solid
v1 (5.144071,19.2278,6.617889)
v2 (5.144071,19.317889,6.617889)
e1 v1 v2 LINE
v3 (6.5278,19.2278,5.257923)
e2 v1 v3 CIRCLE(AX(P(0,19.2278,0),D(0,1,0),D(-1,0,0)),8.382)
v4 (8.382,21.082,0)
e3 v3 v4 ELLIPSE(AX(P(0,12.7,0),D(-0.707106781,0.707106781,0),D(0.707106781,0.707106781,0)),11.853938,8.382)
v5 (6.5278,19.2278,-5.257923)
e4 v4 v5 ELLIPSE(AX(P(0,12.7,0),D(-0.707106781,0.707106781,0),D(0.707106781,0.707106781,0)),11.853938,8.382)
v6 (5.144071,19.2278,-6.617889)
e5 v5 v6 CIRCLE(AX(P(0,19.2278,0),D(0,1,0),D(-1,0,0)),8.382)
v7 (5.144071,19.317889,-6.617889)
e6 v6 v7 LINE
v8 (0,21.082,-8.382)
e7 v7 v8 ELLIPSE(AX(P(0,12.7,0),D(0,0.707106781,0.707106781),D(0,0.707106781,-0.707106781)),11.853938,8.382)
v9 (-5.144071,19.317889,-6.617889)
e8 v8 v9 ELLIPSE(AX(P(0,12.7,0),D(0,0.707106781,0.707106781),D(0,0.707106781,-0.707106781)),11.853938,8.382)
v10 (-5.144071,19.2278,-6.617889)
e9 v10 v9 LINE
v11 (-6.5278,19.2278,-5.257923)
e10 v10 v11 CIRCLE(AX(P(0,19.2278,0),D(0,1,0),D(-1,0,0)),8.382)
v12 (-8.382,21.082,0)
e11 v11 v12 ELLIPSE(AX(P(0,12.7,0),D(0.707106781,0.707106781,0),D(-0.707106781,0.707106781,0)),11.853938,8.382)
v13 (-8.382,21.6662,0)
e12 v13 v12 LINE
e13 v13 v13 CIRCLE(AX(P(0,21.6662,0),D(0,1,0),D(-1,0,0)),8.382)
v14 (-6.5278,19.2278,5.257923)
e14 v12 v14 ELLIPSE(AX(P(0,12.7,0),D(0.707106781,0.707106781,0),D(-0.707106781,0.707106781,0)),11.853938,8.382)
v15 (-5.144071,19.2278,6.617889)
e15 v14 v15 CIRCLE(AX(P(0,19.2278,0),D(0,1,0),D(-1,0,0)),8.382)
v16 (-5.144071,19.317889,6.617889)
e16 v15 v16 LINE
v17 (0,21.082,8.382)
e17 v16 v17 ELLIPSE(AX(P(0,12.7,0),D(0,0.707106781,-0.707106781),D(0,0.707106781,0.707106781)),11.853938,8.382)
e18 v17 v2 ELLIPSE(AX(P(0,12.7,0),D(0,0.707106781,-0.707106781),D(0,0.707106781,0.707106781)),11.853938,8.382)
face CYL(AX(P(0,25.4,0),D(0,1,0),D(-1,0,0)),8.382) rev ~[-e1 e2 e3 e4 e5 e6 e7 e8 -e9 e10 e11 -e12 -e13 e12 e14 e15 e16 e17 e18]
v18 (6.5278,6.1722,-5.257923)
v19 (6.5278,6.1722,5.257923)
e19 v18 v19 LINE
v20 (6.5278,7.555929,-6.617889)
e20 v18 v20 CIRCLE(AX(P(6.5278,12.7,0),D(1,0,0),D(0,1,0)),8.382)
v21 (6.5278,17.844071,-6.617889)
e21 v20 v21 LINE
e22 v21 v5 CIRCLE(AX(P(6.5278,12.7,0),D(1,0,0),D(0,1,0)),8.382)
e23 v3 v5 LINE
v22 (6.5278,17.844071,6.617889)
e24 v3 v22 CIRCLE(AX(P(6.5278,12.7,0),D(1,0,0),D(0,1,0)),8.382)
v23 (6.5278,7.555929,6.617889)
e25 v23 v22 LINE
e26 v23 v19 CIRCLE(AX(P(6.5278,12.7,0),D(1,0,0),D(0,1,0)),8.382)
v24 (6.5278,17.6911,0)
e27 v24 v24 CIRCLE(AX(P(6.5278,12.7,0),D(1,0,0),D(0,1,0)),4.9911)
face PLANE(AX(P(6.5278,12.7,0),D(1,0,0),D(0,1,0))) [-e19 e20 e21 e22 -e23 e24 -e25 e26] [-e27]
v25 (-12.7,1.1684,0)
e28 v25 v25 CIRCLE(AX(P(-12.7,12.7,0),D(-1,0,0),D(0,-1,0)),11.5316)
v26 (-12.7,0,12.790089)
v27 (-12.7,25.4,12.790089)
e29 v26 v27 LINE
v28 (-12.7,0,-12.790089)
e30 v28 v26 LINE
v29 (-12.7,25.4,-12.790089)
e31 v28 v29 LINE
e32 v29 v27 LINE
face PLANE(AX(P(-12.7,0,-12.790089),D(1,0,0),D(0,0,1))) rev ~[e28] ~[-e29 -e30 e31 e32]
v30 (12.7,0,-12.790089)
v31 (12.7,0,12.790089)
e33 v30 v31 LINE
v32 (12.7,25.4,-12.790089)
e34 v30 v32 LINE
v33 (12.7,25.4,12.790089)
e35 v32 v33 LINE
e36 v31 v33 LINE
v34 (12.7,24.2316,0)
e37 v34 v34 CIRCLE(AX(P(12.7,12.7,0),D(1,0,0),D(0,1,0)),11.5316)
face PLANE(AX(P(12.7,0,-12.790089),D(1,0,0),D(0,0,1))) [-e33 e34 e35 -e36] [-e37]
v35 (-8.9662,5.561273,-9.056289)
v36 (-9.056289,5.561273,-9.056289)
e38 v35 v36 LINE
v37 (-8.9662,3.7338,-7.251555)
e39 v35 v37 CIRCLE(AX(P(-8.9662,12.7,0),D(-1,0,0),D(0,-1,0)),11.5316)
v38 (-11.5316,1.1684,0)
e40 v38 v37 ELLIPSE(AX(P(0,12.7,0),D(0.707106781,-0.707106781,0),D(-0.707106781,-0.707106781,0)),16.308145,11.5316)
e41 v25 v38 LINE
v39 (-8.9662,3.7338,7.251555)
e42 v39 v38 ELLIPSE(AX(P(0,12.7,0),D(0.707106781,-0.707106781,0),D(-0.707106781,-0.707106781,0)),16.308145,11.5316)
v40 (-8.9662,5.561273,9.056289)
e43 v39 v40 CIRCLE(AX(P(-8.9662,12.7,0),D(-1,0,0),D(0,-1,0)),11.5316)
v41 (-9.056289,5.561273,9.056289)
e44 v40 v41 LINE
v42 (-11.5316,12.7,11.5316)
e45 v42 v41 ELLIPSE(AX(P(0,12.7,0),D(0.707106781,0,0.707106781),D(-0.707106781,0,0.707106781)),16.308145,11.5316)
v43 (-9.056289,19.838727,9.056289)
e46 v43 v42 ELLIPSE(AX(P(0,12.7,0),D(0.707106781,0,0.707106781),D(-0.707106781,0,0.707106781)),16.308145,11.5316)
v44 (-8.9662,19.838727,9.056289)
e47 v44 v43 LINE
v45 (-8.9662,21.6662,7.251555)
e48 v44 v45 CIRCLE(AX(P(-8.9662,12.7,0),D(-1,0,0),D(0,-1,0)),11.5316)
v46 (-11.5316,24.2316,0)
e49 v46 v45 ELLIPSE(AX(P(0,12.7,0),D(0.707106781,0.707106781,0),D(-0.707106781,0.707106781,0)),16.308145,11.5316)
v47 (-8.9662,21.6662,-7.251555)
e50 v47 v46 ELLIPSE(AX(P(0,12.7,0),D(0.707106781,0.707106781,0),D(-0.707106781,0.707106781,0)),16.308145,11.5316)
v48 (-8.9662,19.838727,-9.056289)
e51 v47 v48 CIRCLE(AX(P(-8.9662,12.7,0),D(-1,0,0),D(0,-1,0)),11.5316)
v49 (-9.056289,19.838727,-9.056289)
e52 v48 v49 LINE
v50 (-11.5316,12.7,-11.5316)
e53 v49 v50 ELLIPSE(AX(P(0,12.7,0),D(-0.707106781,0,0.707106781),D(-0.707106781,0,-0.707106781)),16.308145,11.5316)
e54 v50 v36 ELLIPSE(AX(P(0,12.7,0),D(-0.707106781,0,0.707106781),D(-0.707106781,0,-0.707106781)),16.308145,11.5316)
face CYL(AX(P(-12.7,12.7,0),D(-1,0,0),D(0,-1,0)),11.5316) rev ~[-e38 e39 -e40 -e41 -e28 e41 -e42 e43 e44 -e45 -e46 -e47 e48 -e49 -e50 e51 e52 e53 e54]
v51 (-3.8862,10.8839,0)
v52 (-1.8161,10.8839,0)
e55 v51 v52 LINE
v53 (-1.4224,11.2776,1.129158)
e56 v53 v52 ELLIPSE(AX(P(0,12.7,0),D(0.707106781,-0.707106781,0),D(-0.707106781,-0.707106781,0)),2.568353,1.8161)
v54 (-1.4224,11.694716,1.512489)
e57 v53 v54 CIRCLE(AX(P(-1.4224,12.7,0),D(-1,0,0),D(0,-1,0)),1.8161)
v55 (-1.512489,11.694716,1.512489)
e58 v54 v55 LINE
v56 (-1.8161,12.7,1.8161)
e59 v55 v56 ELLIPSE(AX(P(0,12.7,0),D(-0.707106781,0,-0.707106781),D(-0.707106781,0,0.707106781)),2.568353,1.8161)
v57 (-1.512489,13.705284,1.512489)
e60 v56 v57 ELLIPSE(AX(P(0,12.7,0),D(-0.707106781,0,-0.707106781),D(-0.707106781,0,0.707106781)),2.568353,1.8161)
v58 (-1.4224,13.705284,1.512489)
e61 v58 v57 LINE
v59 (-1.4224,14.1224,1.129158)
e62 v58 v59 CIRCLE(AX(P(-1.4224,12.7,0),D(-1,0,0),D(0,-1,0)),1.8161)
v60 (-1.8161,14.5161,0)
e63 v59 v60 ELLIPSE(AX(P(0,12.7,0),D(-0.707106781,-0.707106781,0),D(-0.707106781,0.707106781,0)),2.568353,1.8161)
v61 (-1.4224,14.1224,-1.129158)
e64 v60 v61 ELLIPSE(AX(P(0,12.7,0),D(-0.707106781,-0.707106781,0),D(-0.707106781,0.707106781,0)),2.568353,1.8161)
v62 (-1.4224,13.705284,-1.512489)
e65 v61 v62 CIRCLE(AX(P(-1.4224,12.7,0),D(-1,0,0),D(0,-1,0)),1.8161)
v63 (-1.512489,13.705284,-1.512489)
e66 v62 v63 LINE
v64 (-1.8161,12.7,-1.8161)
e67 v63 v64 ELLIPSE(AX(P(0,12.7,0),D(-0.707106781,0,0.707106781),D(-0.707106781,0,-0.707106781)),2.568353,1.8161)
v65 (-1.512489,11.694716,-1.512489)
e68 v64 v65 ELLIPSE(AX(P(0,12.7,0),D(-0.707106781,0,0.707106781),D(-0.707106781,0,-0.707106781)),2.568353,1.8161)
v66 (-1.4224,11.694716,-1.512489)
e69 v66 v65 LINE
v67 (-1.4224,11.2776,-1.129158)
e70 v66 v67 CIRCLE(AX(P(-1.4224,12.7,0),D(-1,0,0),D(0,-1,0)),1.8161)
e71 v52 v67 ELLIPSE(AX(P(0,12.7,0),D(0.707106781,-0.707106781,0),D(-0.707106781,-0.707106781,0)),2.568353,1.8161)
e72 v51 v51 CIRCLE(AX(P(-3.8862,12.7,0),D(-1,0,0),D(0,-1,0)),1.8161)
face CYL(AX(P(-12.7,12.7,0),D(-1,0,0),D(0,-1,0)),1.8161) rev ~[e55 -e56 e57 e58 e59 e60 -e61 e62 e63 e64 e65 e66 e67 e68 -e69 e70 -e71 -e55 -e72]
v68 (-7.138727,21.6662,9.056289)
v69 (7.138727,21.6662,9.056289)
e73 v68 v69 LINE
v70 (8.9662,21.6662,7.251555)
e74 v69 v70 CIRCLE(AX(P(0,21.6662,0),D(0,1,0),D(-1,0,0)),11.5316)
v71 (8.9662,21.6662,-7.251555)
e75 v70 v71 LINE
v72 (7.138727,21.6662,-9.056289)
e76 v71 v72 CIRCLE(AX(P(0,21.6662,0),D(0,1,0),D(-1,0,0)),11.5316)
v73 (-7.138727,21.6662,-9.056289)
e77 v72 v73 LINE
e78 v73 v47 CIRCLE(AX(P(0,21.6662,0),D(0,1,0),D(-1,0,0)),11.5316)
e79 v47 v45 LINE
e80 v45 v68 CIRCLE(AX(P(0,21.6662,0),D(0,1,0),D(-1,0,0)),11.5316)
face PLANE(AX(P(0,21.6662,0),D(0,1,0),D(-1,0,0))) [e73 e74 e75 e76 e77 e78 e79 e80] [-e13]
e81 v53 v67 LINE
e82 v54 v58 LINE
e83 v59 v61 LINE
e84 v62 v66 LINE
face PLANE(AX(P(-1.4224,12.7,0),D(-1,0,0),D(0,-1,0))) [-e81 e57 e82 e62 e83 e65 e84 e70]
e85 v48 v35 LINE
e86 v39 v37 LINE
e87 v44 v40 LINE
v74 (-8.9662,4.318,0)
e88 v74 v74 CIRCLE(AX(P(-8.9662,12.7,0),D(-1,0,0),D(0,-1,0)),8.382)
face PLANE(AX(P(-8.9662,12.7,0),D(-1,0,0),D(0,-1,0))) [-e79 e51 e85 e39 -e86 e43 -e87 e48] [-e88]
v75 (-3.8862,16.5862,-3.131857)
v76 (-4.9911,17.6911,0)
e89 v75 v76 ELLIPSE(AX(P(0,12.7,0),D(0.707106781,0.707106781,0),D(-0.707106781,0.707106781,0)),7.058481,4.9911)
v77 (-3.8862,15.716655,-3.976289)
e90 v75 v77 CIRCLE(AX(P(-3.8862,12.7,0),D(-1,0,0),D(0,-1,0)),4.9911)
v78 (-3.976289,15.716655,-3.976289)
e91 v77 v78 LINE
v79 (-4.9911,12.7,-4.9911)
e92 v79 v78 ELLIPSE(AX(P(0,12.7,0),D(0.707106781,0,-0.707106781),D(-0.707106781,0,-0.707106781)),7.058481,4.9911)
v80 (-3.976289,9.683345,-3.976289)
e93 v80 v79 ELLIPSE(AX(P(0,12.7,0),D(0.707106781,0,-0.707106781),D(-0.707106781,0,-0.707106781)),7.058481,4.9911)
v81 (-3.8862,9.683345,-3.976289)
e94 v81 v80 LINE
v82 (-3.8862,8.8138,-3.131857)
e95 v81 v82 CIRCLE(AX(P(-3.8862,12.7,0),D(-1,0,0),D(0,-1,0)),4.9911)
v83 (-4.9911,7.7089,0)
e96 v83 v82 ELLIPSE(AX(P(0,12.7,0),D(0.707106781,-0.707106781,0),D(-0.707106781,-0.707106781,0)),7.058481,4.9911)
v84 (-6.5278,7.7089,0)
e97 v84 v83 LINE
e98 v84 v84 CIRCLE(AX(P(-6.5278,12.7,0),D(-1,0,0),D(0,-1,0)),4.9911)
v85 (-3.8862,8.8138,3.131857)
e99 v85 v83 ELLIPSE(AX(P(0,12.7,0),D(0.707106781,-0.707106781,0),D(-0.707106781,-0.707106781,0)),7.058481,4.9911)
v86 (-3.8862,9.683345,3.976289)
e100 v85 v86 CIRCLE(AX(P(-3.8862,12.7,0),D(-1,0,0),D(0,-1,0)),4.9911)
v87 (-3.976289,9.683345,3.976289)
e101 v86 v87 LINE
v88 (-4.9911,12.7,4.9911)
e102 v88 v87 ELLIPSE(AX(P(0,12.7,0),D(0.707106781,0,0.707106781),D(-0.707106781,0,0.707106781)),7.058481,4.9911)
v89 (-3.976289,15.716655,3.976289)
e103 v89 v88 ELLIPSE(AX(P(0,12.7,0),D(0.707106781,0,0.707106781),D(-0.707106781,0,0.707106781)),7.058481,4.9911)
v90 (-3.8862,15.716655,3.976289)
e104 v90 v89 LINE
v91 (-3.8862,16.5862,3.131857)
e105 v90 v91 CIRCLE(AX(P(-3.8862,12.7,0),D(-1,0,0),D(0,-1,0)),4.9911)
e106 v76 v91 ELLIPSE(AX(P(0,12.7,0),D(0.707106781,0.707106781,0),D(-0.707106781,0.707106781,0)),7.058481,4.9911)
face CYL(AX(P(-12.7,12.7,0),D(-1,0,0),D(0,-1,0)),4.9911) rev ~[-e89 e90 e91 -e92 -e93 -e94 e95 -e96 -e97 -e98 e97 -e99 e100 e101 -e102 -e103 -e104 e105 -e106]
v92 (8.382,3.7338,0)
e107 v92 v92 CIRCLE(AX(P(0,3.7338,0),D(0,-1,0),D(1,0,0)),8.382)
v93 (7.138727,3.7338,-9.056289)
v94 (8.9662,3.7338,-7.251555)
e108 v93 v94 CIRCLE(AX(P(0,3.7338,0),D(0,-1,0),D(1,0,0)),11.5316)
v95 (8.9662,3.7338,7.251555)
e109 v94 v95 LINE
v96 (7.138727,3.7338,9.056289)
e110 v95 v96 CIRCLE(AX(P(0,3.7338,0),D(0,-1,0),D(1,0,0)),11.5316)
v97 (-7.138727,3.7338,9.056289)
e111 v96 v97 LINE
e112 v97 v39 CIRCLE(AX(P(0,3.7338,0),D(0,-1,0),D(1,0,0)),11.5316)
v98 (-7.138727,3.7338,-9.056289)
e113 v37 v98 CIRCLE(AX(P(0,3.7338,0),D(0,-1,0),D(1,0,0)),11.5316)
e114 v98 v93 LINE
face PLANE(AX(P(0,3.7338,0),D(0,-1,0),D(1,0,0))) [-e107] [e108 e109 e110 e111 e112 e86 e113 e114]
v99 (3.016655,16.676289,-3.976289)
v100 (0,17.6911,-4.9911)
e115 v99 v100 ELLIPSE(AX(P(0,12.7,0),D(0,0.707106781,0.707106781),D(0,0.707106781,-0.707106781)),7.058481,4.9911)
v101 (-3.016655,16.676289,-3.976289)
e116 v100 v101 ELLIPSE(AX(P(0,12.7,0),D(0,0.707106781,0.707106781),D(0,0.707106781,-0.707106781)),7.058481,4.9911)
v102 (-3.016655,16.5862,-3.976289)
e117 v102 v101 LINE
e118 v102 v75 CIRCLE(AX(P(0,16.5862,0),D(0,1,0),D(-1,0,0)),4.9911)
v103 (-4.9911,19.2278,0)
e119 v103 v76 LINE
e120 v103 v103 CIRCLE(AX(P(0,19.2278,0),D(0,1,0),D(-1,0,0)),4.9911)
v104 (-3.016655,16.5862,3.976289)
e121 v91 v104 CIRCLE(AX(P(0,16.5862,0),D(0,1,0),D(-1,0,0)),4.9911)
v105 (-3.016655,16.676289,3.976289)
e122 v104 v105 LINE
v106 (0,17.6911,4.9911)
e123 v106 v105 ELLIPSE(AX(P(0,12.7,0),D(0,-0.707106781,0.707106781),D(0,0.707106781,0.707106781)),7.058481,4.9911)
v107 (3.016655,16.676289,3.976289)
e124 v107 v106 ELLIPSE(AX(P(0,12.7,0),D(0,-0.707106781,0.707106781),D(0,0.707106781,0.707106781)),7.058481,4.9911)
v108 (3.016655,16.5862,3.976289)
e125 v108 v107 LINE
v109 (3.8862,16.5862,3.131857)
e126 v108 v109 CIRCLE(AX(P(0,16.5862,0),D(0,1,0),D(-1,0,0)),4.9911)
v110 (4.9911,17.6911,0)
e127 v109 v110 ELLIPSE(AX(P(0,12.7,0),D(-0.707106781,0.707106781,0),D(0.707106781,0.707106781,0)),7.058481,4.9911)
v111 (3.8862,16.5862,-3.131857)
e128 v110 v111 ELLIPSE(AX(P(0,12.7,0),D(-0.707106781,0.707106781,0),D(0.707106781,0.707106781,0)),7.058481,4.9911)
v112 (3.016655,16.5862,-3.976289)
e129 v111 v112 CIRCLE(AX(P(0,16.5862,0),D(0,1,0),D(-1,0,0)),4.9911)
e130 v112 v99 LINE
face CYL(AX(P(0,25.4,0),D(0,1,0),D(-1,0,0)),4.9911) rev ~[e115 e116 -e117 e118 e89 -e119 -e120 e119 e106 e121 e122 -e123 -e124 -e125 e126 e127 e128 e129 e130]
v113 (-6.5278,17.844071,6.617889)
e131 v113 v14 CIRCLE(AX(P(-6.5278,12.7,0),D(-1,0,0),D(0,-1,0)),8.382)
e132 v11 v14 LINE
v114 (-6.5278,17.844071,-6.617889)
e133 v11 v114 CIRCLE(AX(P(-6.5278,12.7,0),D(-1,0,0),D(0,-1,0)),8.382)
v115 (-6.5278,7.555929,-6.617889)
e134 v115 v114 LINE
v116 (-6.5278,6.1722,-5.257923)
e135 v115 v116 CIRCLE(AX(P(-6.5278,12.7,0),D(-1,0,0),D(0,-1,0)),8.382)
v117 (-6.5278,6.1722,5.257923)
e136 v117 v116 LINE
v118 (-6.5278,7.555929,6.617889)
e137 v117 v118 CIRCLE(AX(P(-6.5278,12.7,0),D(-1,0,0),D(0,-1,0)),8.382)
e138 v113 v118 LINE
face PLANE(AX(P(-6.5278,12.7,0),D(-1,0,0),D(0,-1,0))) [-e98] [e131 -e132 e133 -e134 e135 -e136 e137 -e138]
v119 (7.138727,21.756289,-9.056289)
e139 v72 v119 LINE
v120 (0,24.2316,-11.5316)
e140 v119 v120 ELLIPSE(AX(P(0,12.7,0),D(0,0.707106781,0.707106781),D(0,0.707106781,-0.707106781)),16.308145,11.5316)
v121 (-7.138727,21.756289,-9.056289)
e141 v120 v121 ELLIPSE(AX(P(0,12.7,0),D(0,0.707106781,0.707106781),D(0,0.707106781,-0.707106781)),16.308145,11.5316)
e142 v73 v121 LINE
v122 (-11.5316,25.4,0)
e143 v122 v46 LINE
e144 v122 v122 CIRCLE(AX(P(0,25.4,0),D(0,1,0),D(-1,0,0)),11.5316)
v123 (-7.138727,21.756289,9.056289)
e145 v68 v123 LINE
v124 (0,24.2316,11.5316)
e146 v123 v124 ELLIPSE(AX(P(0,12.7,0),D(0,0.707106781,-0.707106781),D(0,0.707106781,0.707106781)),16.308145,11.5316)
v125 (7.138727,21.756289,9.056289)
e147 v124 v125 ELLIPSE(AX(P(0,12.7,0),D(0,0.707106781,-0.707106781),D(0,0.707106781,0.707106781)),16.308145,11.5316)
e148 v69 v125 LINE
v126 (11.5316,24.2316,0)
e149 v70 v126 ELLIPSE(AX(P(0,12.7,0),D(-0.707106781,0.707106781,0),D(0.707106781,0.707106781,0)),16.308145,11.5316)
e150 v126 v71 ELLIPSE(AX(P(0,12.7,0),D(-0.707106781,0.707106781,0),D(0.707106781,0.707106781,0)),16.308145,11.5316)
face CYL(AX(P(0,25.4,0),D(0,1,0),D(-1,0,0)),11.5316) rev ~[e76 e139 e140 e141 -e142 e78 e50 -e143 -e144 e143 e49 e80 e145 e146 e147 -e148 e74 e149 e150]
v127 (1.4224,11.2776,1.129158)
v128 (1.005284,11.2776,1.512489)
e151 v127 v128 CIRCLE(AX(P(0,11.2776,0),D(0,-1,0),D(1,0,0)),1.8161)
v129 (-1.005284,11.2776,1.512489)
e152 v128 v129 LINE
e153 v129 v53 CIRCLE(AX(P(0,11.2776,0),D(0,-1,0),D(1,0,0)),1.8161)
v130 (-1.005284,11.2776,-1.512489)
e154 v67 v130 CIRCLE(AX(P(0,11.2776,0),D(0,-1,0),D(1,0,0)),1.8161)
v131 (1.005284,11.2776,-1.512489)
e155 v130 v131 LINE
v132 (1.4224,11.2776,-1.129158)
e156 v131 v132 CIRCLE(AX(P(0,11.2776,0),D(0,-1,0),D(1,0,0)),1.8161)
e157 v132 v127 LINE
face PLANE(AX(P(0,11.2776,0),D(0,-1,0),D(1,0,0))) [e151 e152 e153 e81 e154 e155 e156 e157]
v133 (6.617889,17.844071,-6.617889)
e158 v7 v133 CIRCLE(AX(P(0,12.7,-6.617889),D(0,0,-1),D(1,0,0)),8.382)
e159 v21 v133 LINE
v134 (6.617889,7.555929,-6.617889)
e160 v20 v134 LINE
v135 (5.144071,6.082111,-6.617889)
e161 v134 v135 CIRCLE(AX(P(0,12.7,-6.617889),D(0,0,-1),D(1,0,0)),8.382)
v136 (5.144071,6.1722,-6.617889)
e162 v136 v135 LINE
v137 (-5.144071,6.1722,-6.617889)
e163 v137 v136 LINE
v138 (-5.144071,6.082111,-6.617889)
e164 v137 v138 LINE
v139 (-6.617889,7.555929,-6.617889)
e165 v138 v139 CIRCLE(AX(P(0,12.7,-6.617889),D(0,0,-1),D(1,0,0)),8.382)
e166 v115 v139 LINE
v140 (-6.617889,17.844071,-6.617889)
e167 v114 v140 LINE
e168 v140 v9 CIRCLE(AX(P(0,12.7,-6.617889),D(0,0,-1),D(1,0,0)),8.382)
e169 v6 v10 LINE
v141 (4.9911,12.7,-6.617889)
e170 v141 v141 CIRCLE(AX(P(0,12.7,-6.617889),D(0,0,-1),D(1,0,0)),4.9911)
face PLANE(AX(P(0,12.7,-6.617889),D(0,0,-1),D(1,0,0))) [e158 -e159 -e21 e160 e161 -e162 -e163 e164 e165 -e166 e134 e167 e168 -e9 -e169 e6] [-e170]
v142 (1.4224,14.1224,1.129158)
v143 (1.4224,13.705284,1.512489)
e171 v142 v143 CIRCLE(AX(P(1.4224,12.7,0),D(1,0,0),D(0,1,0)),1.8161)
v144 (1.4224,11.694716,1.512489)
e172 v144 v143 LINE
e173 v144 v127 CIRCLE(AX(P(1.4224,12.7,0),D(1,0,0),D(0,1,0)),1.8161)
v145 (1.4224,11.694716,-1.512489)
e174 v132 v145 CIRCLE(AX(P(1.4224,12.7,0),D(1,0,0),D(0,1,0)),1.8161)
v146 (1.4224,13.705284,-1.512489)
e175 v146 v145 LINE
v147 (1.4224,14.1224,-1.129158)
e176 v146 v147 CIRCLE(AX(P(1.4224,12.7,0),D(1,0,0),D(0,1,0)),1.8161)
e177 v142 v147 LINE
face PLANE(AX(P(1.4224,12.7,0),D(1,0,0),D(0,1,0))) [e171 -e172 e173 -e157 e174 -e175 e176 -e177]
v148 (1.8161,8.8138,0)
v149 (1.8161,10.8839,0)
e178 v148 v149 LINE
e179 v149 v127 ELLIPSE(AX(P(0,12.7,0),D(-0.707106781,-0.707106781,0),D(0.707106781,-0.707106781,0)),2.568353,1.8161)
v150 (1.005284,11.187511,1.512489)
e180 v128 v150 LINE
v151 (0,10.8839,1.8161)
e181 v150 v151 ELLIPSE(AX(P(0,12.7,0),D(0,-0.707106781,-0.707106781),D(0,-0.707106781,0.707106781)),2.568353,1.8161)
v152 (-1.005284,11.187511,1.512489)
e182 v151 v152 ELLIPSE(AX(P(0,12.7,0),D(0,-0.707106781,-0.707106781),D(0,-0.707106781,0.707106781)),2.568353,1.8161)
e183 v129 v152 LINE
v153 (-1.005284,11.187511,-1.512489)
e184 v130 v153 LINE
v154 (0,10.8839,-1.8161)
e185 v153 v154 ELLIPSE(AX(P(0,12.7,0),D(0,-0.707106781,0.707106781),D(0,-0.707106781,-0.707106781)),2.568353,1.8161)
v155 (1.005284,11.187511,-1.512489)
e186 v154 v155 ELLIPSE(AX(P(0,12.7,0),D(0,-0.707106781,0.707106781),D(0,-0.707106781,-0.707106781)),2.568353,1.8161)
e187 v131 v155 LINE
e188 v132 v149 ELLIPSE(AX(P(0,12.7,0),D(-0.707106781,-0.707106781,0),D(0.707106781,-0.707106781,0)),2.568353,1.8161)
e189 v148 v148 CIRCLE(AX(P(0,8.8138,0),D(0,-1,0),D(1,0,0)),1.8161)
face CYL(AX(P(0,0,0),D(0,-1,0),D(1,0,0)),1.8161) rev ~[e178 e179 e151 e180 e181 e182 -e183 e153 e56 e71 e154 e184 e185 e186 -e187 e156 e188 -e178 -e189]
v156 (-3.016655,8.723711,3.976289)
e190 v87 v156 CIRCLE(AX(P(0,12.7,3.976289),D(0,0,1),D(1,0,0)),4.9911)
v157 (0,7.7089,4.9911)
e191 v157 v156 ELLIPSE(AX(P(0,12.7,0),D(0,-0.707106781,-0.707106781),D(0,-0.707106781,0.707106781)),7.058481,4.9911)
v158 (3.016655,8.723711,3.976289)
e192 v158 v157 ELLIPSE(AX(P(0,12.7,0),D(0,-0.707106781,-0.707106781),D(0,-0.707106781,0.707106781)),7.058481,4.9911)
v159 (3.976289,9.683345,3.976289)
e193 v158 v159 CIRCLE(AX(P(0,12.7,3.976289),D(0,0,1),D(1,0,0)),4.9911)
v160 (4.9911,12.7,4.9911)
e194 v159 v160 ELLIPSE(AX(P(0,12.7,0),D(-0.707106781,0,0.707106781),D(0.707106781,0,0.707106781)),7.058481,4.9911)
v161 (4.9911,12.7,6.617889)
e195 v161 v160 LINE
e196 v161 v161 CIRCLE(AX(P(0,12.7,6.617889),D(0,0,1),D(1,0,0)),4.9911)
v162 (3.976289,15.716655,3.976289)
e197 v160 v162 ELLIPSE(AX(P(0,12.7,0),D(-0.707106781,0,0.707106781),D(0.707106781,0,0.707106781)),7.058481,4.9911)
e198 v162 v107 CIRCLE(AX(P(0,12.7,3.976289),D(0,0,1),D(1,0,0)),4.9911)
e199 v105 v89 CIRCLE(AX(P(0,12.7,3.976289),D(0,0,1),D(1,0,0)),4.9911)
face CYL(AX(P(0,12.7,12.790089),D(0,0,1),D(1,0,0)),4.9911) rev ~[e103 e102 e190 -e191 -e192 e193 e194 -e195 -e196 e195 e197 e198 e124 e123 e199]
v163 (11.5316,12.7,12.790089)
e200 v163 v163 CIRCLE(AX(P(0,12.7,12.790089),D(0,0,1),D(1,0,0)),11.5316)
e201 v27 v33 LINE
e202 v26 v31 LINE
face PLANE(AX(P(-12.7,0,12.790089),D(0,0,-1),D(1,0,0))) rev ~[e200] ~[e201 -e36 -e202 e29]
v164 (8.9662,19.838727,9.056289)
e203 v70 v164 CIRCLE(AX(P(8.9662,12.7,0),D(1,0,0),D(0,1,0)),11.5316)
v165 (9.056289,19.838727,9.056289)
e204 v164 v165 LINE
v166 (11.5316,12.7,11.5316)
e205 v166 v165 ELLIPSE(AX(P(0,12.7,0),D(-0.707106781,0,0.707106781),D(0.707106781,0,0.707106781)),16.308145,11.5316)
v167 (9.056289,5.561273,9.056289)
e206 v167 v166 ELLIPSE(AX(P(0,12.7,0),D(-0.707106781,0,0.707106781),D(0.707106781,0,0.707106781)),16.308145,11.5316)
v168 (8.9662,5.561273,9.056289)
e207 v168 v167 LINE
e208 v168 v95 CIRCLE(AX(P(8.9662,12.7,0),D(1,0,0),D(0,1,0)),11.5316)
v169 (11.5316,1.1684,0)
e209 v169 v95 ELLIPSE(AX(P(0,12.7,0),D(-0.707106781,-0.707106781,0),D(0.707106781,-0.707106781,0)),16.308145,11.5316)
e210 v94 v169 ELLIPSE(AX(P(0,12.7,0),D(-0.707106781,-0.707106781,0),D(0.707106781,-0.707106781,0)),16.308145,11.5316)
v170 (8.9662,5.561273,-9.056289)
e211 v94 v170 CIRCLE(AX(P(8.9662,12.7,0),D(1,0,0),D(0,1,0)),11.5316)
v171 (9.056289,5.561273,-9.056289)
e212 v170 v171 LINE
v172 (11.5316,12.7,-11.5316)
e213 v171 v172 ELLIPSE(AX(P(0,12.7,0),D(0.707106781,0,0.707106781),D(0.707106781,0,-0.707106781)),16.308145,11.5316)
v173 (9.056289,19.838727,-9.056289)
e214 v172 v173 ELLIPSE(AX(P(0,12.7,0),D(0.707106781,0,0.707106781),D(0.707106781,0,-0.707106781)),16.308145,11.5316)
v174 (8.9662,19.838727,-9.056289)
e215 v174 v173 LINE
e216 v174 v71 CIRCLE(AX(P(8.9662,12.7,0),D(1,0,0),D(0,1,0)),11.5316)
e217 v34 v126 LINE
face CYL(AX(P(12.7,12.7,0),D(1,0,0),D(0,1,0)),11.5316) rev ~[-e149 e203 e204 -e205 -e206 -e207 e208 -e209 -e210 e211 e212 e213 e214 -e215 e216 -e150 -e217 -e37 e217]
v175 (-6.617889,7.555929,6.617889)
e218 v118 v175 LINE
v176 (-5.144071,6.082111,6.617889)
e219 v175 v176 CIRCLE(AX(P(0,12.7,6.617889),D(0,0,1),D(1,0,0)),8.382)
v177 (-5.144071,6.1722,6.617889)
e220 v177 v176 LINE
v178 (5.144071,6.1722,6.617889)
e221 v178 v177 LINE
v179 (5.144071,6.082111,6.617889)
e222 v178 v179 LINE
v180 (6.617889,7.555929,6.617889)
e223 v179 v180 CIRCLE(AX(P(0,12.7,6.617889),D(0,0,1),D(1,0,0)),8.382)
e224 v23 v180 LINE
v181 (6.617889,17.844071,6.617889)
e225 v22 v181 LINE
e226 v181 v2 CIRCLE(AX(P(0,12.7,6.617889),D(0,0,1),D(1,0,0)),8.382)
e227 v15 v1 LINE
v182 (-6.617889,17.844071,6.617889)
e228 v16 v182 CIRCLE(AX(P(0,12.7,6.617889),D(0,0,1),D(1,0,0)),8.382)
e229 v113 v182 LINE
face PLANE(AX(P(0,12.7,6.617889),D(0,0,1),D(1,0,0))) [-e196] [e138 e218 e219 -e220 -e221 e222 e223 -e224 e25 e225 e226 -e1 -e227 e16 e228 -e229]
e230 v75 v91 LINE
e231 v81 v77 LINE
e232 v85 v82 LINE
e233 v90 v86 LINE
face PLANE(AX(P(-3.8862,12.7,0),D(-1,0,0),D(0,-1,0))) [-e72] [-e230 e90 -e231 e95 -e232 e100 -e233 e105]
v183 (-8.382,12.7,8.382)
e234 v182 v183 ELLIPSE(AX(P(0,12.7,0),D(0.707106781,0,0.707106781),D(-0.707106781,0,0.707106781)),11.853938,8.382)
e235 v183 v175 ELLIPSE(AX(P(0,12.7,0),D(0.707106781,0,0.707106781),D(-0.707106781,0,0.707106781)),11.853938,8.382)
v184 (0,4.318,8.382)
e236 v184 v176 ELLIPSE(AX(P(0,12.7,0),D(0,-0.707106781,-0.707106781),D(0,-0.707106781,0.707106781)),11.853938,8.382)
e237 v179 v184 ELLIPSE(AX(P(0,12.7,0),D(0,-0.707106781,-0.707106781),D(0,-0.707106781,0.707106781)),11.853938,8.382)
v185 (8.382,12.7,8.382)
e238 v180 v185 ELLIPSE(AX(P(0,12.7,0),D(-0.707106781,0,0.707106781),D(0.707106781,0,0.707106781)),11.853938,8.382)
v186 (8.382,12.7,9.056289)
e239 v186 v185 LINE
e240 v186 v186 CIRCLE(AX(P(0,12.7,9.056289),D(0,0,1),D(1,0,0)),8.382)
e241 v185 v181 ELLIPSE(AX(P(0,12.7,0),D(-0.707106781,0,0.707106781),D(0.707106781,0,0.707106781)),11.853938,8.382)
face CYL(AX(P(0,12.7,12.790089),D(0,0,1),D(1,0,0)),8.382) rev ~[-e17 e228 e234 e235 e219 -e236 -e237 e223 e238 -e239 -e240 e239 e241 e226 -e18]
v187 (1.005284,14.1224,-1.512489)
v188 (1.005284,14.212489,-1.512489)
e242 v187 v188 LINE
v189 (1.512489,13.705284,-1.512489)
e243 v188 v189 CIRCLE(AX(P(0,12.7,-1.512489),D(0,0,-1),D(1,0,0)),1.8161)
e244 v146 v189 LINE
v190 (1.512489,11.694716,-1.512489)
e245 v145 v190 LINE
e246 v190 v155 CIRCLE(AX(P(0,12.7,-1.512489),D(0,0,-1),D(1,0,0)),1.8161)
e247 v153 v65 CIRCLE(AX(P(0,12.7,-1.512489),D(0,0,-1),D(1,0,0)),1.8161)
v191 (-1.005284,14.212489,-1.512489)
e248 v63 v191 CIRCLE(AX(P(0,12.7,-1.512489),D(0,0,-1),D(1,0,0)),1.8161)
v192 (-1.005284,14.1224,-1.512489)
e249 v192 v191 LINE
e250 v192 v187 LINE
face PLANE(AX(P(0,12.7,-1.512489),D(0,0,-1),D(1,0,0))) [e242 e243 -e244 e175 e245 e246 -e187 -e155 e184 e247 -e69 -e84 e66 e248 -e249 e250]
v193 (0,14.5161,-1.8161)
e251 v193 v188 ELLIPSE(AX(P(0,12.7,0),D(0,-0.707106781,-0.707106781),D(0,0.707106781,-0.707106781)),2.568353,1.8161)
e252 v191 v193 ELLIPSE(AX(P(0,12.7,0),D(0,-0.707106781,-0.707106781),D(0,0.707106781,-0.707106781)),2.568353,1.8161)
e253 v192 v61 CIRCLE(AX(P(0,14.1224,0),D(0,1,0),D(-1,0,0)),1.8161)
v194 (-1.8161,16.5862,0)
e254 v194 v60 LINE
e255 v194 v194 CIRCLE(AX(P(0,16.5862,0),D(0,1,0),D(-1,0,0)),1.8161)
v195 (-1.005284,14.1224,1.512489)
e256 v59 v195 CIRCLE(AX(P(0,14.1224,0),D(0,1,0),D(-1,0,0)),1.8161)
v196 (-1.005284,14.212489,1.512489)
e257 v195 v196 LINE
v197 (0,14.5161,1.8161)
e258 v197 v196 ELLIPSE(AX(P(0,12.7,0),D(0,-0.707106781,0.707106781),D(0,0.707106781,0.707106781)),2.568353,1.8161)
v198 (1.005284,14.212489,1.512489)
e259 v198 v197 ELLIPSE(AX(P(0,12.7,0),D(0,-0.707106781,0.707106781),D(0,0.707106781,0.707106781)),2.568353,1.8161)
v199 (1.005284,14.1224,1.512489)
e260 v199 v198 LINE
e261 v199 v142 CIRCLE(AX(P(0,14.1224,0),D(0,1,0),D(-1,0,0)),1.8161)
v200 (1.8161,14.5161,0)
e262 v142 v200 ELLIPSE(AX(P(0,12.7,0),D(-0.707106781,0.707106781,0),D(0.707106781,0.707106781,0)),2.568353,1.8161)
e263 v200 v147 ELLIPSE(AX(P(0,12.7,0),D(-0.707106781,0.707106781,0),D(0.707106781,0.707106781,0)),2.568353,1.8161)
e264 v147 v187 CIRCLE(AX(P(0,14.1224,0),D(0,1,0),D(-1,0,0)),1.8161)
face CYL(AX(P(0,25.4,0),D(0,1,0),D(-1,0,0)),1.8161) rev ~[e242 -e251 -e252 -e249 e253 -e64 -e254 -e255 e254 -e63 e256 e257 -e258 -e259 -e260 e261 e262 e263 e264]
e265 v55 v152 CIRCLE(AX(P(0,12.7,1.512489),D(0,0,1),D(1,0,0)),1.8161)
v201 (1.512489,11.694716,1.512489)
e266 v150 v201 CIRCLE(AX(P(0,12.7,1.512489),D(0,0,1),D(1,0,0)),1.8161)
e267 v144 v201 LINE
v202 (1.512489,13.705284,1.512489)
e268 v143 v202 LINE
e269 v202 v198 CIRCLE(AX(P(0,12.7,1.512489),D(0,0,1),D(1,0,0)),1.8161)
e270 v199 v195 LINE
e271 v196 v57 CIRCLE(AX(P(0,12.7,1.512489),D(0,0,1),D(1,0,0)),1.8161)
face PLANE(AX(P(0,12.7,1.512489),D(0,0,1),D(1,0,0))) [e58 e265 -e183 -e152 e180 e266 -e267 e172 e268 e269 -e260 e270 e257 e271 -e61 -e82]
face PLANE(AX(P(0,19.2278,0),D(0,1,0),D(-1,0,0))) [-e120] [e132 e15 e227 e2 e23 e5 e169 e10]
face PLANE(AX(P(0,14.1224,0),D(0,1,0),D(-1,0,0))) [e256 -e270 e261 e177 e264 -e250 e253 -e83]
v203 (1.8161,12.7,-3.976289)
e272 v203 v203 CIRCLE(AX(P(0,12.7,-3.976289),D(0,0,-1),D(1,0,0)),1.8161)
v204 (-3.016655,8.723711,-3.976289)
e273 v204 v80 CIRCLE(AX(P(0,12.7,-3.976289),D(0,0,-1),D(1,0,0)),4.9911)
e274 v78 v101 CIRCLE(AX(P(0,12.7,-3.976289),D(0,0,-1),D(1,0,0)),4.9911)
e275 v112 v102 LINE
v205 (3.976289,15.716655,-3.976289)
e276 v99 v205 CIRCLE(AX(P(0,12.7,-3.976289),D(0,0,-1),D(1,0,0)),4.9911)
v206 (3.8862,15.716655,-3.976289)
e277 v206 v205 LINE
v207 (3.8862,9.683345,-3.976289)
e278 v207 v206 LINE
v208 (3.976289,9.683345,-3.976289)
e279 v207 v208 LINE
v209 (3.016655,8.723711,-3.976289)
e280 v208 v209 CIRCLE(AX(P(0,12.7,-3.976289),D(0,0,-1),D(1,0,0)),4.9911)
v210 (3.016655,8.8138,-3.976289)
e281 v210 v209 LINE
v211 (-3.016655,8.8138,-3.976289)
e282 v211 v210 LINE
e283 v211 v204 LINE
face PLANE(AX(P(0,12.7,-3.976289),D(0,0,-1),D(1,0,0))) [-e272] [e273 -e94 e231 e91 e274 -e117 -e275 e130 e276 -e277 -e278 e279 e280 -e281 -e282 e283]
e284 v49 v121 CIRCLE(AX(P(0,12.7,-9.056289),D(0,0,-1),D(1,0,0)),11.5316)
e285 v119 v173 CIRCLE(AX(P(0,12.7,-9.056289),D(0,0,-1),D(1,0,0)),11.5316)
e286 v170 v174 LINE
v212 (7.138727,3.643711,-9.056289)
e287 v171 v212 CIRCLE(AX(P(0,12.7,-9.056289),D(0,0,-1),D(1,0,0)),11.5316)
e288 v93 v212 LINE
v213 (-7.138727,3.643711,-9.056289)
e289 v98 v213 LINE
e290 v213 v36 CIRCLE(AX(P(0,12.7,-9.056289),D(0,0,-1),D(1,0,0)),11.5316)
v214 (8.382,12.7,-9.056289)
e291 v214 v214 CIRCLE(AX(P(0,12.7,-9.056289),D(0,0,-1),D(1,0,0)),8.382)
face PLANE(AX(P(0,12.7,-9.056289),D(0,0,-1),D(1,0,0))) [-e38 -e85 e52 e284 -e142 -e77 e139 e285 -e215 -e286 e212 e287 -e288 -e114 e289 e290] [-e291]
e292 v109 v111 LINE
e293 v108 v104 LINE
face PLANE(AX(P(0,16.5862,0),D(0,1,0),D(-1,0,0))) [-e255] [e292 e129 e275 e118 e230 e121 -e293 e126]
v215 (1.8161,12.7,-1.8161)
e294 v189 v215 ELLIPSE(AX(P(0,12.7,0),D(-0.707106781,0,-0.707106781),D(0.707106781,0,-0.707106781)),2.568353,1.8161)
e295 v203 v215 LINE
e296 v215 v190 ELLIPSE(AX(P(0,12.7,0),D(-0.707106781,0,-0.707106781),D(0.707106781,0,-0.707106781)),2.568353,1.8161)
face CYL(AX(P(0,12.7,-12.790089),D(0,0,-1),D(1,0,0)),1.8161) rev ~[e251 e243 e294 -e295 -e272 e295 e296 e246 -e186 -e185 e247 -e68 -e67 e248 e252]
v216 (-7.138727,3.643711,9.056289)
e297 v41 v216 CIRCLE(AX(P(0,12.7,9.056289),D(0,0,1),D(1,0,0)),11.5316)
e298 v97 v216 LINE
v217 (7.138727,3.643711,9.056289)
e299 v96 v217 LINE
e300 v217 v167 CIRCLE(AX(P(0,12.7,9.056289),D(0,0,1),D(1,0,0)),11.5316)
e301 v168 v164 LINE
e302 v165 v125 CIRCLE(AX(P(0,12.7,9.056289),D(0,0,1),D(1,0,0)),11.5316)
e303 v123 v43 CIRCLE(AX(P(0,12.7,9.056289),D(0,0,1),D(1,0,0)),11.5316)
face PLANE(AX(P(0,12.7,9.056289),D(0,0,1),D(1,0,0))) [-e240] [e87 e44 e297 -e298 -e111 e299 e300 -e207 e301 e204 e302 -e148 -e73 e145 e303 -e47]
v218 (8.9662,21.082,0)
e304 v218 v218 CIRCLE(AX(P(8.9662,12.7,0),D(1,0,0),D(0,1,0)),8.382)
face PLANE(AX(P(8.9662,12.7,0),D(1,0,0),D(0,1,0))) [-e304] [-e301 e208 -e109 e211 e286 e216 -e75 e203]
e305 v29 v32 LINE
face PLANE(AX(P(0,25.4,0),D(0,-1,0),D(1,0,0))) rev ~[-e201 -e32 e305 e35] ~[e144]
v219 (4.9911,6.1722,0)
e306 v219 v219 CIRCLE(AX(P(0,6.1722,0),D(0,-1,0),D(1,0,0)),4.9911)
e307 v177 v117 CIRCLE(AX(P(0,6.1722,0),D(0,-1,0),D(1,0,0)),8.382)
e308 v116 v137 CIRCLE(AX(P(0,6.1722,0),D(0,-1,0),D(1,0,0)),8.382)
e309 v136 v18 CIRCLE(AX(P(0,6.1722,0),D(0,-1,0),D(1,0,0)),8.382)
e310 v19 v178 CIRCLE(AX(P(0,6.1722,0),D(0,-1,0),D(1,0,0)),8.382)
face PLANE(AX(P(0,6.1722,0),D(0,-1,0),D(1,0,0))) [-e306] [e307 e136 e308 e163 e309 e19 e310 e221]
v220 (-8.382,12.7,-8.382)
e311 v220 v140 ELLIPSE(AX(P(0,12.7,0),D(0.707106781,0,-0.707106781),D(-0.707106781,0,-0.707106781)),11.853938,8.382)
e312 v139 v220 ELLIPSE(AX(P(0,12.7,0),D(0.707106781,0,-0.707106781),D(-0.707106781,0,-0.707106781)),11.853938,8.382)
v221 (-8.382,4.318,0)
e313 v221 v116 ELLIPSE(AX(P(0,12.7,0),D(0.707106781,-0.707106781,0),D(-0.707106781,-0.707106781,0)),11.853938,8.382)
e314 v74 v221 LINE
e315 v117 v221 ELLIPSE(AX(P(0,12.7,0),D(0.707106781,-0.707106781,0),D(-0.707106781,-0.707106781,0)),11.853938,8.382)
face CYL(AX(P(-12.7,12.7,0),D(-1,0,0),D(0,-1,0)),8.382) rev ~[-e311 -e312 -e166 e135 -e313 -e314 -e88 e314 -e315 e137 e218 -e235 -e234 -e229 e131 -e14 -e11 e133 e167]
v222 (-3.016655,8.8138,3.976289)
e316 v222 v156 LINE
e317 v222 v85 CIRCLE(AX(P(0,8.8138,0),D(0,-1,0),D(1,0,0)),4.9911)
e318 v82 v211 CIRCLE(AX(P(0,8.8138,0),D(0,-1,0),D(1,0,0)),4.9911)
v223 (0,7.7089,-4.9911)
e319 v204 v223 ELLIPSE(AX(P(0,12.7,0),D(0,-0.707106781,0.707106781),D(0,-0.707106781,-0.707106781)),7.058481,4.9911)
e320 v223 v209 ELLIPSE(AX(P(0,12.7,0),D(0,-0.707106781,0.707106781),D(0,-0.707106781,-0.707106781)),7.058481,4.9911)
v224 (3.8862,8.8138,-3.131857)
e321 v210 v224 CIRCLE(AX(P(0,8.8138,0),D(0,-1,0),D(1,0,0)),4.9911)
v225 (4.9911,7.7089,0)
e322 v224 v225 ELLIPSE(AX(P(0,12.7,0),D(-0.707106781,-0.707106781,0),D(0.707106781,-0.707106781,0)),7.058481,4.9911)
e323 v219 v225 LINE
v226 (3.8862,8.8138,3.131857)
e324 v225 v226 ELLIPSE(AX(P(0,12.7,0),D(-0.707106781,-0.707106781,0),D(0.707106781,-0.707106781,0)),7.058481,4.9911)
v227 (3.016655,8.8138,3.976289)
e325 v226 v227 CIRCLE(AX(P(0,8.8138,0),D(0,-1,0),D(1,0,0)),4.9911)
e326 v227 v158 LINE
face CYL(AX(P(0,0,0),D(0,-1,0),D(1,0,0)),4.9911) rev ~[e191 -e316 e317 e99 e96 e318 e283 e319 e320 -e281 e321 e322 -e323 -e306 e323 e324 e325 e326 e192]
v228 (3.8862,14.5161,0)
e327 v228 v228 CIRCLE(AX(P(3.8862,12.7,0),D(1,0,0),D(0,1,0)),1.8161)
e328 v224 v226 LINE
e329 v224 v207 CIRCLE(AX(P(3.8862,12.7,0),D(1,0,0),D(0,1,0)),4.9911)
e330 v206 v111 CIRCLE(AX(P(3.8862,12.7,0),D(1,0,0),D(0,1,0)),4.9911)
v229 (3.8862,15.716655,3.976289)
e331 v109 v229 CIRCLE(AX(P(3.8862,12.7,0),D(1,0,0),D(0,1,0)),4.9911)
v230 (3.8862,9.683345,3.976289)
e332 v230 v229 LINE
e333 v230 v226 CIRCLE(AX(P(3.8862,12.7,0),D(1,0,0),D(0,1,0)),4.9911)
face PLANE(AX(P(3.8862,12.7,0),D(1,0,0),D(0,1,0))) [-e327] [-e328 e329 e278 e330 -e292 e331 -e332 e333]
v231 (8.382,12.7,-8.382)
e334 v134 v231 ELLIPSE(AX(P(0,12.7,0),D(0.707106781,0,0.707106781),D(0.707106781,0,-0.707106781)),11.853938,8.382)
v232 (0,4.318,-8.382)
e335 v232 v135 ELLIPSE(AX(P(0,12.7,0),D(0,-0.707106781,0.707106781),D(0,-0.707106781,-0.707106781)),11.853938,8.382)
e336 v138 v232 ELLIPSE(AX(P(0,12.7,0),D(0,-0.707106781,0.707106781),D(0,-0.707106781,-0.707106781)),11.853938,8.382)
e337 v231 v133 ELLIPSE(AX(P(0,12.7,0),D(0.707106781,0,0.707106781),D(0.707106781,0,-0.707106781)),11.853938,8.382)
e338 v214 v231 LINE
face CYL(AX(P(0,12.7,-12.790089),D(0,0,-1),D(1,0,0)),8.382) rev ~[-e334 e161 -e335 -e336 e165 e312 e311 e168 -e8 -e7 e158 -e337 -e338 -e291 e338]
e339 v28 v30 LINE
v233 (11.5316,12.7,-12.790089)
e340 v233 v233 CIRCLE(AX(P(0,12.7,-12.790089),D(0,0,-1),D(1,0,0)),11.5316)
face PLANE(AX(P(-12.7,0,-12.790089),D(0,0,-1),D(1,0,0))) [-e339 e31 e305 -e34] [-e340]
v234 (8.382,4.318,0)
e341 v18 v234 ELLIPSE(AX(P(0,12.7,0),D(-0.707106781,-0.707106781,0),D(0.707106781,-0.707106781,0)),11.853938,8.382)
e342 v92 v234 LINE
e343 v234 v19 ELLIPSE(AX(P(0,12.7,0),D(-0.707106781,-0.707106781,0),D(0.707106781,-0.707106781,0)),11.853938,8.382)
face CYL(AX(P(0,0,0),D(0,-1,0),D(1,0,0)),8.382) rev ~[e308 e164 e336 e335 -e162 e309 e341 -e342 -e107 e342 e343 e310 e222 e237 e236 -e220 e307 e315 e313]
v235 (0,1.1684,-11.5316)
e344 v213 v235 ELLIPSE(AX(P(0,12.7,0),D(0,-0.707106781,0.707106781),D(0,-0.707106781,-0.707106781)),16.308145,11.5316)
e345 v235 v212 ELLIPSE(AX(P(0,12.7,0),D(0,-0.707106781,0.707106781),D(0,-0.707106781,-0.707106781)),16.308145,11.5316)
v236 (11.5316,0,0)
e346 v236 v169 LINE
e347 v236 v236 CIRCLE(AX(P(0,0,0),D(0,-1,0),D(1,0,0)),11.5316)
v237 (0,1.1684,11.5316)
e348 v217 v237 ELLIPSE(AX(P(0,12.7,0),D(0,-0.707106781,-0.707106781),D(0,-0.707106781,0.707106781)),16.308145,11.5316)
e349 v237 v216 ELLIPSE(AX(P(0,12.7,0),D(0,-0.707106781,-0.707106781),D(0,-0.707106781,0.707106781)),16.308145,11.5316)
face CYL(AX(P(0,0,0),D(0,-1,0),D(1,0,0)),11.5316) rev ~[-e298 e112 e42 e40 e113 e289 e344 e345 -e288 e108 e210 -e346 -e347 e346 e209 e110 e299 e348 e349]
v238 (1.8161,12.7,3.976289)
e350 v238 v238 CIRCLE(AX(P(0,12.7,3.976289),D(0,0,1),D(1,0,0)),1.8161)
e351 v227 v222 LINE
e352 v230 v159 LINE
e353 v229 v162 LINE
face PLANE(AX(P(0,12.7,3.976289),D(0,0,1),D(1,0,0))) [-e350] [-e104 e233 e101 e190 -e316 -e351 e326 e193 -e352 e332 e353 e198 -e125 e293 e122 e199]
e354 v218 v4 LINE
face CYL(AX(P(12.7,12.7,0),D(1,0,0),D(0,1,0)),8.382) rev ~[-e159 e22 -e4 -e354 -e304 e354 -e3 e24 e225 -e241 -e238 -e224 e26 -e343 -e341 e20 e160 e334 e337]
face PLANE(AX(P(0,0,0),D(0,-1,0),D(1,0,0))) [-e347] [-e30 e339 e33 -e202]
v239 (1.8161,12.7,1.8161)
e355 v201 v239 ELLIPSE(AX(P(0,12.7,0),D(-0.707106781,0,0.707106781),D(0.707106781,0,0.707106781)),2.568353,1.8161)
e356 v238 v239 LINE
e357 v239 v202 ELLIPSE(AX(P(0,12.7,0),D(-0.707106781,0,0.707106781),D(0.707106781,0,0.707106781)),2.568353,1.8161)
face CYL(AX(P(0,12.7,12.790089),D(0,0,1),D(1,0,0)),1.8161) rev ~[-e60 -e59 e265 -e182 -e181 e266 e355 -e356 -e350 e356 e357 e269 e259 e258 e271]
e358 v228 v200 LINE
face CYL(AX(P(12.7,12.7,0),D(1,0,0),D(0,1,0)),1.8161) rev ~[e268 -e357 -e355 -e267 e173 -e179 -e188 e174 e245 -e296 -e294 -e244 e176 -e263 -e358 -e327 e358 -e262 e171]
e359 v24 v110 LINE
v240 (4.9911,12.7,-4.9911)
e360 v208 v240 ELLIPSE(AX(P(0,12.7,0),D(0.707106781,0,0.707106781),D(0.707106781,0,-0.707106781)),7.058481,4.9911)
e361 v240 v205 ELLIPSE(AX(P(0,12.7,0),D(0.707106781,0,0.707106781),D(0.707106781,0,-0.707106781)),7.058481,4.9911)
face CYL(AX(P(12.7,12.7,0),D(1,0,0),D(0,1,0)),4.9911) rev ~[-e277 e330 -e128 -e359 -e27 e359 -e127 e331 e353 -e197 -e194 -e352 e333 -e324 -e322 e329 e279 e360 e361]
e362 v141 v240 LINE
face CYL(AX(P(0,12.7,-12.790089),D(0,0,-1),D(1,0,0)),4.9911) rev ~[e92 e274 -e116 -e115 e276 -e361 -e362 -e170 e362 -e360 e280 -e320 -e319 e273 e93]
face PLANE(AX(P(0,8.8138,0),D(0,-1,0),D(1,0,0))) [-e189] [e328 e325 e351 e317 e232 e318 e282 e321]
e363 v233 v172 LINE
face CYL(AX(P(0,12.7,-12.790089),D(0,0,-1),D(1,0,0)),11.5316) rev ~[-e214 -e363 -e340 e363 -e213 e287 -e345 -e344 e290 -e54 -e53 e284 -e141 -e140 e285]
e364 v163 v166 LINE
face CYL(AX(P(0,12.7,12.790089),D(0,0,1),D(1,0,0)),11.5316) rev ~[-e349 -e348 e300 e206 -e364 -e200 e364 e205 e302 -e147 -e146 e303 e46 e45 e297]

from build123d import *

# Parameters (mm, degrees)
F0_W      = 25.4
F0_H      = 25.580178
F2_DEPTH  = 25.4
F1_R      = 1.8161
F3_DEPTH  = 11.2776
F1_R_2    = 11.5316
F1_R_3    = 8.382
F4_DEPTH  = 3.7338
F1_R_4    = 4.9911
F5_DEPTH  = 8.8138
F6_DEPTH  = 6.1722
F7_R      = 1.8161
F12_DEPTH = 11.2776
F8_R      = 1.8161
F13_DEPTH = 11.2776
F9_R      = 1.8161
F14_DEPTH = 11.2776
F11_R     = 1.8161
F15_DEPTH = 11.2776
F10_R     = 1.8161
F16_DEPTH = 11.2776
F9_R_2    = 4.9911
F17_DEPTH = 8.8138
F11_R_2   = 4.9911
F18_DEPTH = 8.8138
F11_R_3   = 8.382
F19_DEPTH = 6.1722
F11_R_4   = 11.5316
F20_DEPTH = 3.7338
F21_DEPTH = 8.8138
F9_R_3    = 8.382
F22_DEPTH = 6.1722
F9_R_4    = 11.5316
F23_DEPTH = 3.7338
F10_R_2   = 4.9911
F24_DEPTH = 8.8138
F10_R_3   = 8.382
F25_DEPTH = 6.1722
F10_R_4   = 11.5316
F26_DEPTH = 3.7338
F8_R_2    = 4.9911
F27_DEPTH = 8.8138
F8_R_3    = 8.382
F28_DEPTH = 6.1722
F7_R_2    = 4.9911
F29_DEPTH = 8.8138
F7_R_3    = 8.382
F30_DEPTH = 6.1722
F7_R_4    = 11.5316
F31_DEPTH = 3.7338
F8_R_4    = 11.5316
F32_DEPTH = 3.7338


with BuildPart() as f2:
    # F0 (on Front) → F2 (new body)
    with BuildSketch(Plane.XZ):
        Rectangle(F0_W, F0_H)
    extrude(amount=-F2_DEPTH)

    # F1 (on Front) → F3 (cut)
    with BuildSketch(Plane.XZ):
        Circle(F1_R)
    extrude(amount=-F3_DEPTH, mode=Mode.SUBTRACT)

    # F1 (on Front) → F4 (cut)
    with BuildSketch(Plane.XZ):
        Circle(F1_R_2)
        Circle(F1_R_3, mode=Mode.SUBTRACT)
    extrude(amount=-F4_DEPTH, mode=Mode.SUBTRACT)

    # F1 (on Front) → F5 (cut)
    with BuildSketch(Plane.XZ):
        Circle(F1_R_4)
        Circle(F1_R, mode=Mode.SUBTRACT)
    extrude(amount=-F5_DEPTH, mode=Mode.SUBTRACT)

    # F1 (on Front) → F6 (cut)
    with BuildSketch(Plane.XZ):
        Circle(F1_R_3)
        Circle(F1_R_4, mode=Mode.SUBTRACT)
    extrude(amount=-F6_DEPTH, mode=Mode.SUBTRACT)

    # F7 (on face) → F12 (cut)
    with BuildSketch(Plane(origin=(-12.7, 0, 0), x_dir=(0, -1, 0), z_dir=(-1, 0, 0))):
        with Locations((-12.7, 0)):
            Circle(F7_R)
    extrude(amount=-F12_DEPTH, mode=Mode.SUBTRACT)

    # F8 (on face) → F13 (cut)
    with BuildSketch(Plane(origin=(0, 0, -12.790089), x_dir=(1, 0, 0), z_dir=(0, 0, -1))):
        with Locations((0, -12.7)):
            Circle(F8_R)
    extrude(amount=-F13_DEPTH, mode=Mode.SUBTRACT)

    # F9 (on face) → F14 (cut)
    with BuildSketch(Plane.XY.offset(12.790089)):
        with Locations((0, 12.7)):
            Circle(F9_R)
    extrude(amount=-F14_DEPTH, mode=Mode.SUBTRACT)

    # F11 (on face) → F15 (cut)
    with BuildSketch(Plane(origin=(0, 25.4, 0), x_dir=(-1, 0, 0), z_dir=(0, 1, 0))):
        Circle(F11_R)
    extrude(amount=-F15_DEPTH, mode=Mode.SUBTRACT)

    # F10 (on face) → F16 (cut)
    with BuildSketch(Plane.YZ.offset(12.7)):
        with Locations((12.7, 0)):
            Circle(F10_R)
    extrude(amount=-F16_DEPTH, mode=Mode.SUBTRACT)

    # F9 (on face) → F17 (cut)
    with BuildSketch(Plane.XY.offset(12.790089)):
        with Locations((0, 12.7)):
            Circle(F9_R_2)
        with Locations((0, 12.7)):
            Circle(F9_R, mode=Mode.SUBTRACT)
    extrude(amount=-F17_DEPTH, mode=Mode.SUBTRACT)

    # F11 (on face) → F18 (cut)
    with BuildSketch(Plane(origin=(0, 25.4, 0), x_dir=(-1, 0, 0), z_dir=(0, 1, 0))):
        Circle(F11_R_2)
        Circle(F11_R, mode=Mode.SUBTRACT)
    extrude(amount=-F18_DEPTH, mode=Mode.SUBTRACT)

    # F11 (on face) → F19 (cut)
    with BuildSketch(Plane(origin=(0, 25.4, 0), x_dir=(-1, 0, 0), z_dir=(0, 1, 0))):
        Circle(F11_R_3)
        Circle(F11_R_2, mode=Mode.SUBTRACT)
    extrude(amount=-F19_DEPTH, mode=Mode.SUBTRACT)

    # F11 (on face) → F20 (cut)
    with BuildSketch(Plane(origin=(0, 25.4, 0), x_dir=(-1, 0, 0), z_dir=(0, 1, 0))):
        Circle(F11_R_4)
        Circle(F11_R_3, mode=Mode.SUBTRACT)
    extrude(amount=-F20_DEPTH, mode=Mode.SUBTRACT)

    # F9 (on face) → F21 (cut)
    with BuildSketch(Plane.XY.offset(12.790089)):
        with Locations((0, 12.7)):
            Circle(F9_R_2)
        with Locations((0, 12.7)):
            Circle(F9_R, mode=Mode.SUBTRACT)
    extrude(amount=-F21_DEPTH, mode=Mode.SUBTRACT)

    # F9 (on face) → F22 (cut)
    with BuildSketch(Plane.XY.offset(12.790089)):
        with Locations((0, 12.7)):
            Circle(F9_R_3)
        with Locations((0, 12.7)):
            Circle(F9_R_2, mode=Mode.SUBTRACT)
    extrude(amount=-F22_DEPTH, mode=Mode.SUBTRACT)

    # F9 (on face) → F23 (cut)
    with BuildSketch(Plane.XY.offset(12.790089)):
        with Locations((0, 12.7)):
            Circle(F9_R_4)
        with Locations((0, 12.7)):
            Circle(F9_R_3, mode=Mode.SUBTRACT)
    extrude(amount=-F23_DEPTH, mode=Mode.SUBTRACT)

    # F10 (on face) → F24 (cut)
    with BuildSketch(Plane.YZ.offset(12.7)):
        with Locations((12.7, 0)):
            Circle(F10_R_2)
        with Locations((12.7, 0)):
            Circle(F10_R, mode=Mode.SUBTRACT)
    extrude(amount=-F24_DEPTH, mode=Mode.SUBTRACT)

    # F10 (on face) → F25 (cut)
    with BuildSketch(Plane.YZ.offset(12.7)):
        with Locations((12.7, 0)):
            Circle(F10_R_3)
        with Locations((12.7, 0)):
            Circle(F10_R_2, mode=Mode.SUBTRACT)
    extrude(amount=-F25_DEPTH, mode=Mode.SUBTRACT)

    # F10 (on face) → F26 (cut)
    with BuildSketch(Plane.YZ.offset(12.7)):
        with Locations((12.7, 0)):
            Circle(F10_R_4)
        with Locations((12.7, 0)):
            Circle(F10_R_3, mode=Mode.SUBTRACT)
    extrude(amount=-F26_DEPTH, mode=Mode.SUBTRACT)

    # F8 (on face) → F27 (cut)
    with BuildSketch(Plane(origin=(0, 0, -12.790089), x_dir=(1, 0, 0), z_dir=(0, 0, -1))):
        with Locations((0, -12.7)):
            Circle(F8_R_2)
        with Locations((0, -12.7)):
            Circle(F8_R, mode=Mode.SUBTRACT)
    extrude(amount=-F27_DEPTH, mode=Mode.SUBTRACT)

    # F8 (on face) → F28 (cut)
    with BuildSketch(Plane(origin=(0, 0, -12.790089), x_dir=(1, 0, 0), z_dir=(0, 0, -1))):
        with Locations((0, -12.7)):
            Circle(F8_R_3)
        with Locations((0, -12.7)):
            Circle(F8_R_2, mode=Mode.SUBTRACT)
    extrude(amount=-F28_DEPTH, mode=Mode.SUBTRACT)

    # F7 (on face) → F29 (cut)
    with BuildSketch(Plane(origin=(-12.7, 0, 0), x_dir=(0, -1, 0), z_dir=(-1, 0, 0))):
        with Locations((-12.7, 0)):
            Circle(F7_R_2)
        with Locations((-12.7, 0)):
            Circle(F7_R, mode=Mode.SUBTRACT)
    extrude(amount=-F29_DEPTH, mode=Mode.SUBTRACT)

    # F7 (on face) → F30 (cut)
    with BuildSketch(Plane(origin=(-12.7, 0, 0), x_dir=(0, -1, 0), z_dir=(-1, 0, 0))):
        with Locations((-12.7, 0)):
            Circle(F7_R_3)
        with Locations((-12.7, 0)):
            Circle(F7_R_2, mode=Mode.SUBTRACT)
    extrude(amount=-F30_DEPTH, mode=Mode.SUBTRACT)

    # F7 (on face) → F31 (cut)
    with BuildSketch(Plane(origin=(-12.7, 0, 0), x_dir=(0, -1, 0), z_dir=(-1, 0, 0))):
        with Locations((-12.7, 0)):
            Circle(F7_R_4)
        with Locations((-12.7, 0)):
            Circle(F7_R_3, mode=Mode.SUBTRACT)
    extrude(amount=-F31_DEPTH, mode=Mode.SUBTRACT)

    # F8 (on face) → F32 (cut)
    with BuildSketch(Plane(origin=(0, 0, -12.790089), x_dir=(1, 0, 0), z_dir=(0, 0, -1))):
        with Locations((0, -12.7)):
            Circle(F8_R_4)
        with Locations((0, -12.7)):
            Circle(F8_R_3, mode=Mode.SUBTRACT)
    extrude(amount=-F32_DEPTH, mode=Mode.SUBTRACT)


solid = f2.part
